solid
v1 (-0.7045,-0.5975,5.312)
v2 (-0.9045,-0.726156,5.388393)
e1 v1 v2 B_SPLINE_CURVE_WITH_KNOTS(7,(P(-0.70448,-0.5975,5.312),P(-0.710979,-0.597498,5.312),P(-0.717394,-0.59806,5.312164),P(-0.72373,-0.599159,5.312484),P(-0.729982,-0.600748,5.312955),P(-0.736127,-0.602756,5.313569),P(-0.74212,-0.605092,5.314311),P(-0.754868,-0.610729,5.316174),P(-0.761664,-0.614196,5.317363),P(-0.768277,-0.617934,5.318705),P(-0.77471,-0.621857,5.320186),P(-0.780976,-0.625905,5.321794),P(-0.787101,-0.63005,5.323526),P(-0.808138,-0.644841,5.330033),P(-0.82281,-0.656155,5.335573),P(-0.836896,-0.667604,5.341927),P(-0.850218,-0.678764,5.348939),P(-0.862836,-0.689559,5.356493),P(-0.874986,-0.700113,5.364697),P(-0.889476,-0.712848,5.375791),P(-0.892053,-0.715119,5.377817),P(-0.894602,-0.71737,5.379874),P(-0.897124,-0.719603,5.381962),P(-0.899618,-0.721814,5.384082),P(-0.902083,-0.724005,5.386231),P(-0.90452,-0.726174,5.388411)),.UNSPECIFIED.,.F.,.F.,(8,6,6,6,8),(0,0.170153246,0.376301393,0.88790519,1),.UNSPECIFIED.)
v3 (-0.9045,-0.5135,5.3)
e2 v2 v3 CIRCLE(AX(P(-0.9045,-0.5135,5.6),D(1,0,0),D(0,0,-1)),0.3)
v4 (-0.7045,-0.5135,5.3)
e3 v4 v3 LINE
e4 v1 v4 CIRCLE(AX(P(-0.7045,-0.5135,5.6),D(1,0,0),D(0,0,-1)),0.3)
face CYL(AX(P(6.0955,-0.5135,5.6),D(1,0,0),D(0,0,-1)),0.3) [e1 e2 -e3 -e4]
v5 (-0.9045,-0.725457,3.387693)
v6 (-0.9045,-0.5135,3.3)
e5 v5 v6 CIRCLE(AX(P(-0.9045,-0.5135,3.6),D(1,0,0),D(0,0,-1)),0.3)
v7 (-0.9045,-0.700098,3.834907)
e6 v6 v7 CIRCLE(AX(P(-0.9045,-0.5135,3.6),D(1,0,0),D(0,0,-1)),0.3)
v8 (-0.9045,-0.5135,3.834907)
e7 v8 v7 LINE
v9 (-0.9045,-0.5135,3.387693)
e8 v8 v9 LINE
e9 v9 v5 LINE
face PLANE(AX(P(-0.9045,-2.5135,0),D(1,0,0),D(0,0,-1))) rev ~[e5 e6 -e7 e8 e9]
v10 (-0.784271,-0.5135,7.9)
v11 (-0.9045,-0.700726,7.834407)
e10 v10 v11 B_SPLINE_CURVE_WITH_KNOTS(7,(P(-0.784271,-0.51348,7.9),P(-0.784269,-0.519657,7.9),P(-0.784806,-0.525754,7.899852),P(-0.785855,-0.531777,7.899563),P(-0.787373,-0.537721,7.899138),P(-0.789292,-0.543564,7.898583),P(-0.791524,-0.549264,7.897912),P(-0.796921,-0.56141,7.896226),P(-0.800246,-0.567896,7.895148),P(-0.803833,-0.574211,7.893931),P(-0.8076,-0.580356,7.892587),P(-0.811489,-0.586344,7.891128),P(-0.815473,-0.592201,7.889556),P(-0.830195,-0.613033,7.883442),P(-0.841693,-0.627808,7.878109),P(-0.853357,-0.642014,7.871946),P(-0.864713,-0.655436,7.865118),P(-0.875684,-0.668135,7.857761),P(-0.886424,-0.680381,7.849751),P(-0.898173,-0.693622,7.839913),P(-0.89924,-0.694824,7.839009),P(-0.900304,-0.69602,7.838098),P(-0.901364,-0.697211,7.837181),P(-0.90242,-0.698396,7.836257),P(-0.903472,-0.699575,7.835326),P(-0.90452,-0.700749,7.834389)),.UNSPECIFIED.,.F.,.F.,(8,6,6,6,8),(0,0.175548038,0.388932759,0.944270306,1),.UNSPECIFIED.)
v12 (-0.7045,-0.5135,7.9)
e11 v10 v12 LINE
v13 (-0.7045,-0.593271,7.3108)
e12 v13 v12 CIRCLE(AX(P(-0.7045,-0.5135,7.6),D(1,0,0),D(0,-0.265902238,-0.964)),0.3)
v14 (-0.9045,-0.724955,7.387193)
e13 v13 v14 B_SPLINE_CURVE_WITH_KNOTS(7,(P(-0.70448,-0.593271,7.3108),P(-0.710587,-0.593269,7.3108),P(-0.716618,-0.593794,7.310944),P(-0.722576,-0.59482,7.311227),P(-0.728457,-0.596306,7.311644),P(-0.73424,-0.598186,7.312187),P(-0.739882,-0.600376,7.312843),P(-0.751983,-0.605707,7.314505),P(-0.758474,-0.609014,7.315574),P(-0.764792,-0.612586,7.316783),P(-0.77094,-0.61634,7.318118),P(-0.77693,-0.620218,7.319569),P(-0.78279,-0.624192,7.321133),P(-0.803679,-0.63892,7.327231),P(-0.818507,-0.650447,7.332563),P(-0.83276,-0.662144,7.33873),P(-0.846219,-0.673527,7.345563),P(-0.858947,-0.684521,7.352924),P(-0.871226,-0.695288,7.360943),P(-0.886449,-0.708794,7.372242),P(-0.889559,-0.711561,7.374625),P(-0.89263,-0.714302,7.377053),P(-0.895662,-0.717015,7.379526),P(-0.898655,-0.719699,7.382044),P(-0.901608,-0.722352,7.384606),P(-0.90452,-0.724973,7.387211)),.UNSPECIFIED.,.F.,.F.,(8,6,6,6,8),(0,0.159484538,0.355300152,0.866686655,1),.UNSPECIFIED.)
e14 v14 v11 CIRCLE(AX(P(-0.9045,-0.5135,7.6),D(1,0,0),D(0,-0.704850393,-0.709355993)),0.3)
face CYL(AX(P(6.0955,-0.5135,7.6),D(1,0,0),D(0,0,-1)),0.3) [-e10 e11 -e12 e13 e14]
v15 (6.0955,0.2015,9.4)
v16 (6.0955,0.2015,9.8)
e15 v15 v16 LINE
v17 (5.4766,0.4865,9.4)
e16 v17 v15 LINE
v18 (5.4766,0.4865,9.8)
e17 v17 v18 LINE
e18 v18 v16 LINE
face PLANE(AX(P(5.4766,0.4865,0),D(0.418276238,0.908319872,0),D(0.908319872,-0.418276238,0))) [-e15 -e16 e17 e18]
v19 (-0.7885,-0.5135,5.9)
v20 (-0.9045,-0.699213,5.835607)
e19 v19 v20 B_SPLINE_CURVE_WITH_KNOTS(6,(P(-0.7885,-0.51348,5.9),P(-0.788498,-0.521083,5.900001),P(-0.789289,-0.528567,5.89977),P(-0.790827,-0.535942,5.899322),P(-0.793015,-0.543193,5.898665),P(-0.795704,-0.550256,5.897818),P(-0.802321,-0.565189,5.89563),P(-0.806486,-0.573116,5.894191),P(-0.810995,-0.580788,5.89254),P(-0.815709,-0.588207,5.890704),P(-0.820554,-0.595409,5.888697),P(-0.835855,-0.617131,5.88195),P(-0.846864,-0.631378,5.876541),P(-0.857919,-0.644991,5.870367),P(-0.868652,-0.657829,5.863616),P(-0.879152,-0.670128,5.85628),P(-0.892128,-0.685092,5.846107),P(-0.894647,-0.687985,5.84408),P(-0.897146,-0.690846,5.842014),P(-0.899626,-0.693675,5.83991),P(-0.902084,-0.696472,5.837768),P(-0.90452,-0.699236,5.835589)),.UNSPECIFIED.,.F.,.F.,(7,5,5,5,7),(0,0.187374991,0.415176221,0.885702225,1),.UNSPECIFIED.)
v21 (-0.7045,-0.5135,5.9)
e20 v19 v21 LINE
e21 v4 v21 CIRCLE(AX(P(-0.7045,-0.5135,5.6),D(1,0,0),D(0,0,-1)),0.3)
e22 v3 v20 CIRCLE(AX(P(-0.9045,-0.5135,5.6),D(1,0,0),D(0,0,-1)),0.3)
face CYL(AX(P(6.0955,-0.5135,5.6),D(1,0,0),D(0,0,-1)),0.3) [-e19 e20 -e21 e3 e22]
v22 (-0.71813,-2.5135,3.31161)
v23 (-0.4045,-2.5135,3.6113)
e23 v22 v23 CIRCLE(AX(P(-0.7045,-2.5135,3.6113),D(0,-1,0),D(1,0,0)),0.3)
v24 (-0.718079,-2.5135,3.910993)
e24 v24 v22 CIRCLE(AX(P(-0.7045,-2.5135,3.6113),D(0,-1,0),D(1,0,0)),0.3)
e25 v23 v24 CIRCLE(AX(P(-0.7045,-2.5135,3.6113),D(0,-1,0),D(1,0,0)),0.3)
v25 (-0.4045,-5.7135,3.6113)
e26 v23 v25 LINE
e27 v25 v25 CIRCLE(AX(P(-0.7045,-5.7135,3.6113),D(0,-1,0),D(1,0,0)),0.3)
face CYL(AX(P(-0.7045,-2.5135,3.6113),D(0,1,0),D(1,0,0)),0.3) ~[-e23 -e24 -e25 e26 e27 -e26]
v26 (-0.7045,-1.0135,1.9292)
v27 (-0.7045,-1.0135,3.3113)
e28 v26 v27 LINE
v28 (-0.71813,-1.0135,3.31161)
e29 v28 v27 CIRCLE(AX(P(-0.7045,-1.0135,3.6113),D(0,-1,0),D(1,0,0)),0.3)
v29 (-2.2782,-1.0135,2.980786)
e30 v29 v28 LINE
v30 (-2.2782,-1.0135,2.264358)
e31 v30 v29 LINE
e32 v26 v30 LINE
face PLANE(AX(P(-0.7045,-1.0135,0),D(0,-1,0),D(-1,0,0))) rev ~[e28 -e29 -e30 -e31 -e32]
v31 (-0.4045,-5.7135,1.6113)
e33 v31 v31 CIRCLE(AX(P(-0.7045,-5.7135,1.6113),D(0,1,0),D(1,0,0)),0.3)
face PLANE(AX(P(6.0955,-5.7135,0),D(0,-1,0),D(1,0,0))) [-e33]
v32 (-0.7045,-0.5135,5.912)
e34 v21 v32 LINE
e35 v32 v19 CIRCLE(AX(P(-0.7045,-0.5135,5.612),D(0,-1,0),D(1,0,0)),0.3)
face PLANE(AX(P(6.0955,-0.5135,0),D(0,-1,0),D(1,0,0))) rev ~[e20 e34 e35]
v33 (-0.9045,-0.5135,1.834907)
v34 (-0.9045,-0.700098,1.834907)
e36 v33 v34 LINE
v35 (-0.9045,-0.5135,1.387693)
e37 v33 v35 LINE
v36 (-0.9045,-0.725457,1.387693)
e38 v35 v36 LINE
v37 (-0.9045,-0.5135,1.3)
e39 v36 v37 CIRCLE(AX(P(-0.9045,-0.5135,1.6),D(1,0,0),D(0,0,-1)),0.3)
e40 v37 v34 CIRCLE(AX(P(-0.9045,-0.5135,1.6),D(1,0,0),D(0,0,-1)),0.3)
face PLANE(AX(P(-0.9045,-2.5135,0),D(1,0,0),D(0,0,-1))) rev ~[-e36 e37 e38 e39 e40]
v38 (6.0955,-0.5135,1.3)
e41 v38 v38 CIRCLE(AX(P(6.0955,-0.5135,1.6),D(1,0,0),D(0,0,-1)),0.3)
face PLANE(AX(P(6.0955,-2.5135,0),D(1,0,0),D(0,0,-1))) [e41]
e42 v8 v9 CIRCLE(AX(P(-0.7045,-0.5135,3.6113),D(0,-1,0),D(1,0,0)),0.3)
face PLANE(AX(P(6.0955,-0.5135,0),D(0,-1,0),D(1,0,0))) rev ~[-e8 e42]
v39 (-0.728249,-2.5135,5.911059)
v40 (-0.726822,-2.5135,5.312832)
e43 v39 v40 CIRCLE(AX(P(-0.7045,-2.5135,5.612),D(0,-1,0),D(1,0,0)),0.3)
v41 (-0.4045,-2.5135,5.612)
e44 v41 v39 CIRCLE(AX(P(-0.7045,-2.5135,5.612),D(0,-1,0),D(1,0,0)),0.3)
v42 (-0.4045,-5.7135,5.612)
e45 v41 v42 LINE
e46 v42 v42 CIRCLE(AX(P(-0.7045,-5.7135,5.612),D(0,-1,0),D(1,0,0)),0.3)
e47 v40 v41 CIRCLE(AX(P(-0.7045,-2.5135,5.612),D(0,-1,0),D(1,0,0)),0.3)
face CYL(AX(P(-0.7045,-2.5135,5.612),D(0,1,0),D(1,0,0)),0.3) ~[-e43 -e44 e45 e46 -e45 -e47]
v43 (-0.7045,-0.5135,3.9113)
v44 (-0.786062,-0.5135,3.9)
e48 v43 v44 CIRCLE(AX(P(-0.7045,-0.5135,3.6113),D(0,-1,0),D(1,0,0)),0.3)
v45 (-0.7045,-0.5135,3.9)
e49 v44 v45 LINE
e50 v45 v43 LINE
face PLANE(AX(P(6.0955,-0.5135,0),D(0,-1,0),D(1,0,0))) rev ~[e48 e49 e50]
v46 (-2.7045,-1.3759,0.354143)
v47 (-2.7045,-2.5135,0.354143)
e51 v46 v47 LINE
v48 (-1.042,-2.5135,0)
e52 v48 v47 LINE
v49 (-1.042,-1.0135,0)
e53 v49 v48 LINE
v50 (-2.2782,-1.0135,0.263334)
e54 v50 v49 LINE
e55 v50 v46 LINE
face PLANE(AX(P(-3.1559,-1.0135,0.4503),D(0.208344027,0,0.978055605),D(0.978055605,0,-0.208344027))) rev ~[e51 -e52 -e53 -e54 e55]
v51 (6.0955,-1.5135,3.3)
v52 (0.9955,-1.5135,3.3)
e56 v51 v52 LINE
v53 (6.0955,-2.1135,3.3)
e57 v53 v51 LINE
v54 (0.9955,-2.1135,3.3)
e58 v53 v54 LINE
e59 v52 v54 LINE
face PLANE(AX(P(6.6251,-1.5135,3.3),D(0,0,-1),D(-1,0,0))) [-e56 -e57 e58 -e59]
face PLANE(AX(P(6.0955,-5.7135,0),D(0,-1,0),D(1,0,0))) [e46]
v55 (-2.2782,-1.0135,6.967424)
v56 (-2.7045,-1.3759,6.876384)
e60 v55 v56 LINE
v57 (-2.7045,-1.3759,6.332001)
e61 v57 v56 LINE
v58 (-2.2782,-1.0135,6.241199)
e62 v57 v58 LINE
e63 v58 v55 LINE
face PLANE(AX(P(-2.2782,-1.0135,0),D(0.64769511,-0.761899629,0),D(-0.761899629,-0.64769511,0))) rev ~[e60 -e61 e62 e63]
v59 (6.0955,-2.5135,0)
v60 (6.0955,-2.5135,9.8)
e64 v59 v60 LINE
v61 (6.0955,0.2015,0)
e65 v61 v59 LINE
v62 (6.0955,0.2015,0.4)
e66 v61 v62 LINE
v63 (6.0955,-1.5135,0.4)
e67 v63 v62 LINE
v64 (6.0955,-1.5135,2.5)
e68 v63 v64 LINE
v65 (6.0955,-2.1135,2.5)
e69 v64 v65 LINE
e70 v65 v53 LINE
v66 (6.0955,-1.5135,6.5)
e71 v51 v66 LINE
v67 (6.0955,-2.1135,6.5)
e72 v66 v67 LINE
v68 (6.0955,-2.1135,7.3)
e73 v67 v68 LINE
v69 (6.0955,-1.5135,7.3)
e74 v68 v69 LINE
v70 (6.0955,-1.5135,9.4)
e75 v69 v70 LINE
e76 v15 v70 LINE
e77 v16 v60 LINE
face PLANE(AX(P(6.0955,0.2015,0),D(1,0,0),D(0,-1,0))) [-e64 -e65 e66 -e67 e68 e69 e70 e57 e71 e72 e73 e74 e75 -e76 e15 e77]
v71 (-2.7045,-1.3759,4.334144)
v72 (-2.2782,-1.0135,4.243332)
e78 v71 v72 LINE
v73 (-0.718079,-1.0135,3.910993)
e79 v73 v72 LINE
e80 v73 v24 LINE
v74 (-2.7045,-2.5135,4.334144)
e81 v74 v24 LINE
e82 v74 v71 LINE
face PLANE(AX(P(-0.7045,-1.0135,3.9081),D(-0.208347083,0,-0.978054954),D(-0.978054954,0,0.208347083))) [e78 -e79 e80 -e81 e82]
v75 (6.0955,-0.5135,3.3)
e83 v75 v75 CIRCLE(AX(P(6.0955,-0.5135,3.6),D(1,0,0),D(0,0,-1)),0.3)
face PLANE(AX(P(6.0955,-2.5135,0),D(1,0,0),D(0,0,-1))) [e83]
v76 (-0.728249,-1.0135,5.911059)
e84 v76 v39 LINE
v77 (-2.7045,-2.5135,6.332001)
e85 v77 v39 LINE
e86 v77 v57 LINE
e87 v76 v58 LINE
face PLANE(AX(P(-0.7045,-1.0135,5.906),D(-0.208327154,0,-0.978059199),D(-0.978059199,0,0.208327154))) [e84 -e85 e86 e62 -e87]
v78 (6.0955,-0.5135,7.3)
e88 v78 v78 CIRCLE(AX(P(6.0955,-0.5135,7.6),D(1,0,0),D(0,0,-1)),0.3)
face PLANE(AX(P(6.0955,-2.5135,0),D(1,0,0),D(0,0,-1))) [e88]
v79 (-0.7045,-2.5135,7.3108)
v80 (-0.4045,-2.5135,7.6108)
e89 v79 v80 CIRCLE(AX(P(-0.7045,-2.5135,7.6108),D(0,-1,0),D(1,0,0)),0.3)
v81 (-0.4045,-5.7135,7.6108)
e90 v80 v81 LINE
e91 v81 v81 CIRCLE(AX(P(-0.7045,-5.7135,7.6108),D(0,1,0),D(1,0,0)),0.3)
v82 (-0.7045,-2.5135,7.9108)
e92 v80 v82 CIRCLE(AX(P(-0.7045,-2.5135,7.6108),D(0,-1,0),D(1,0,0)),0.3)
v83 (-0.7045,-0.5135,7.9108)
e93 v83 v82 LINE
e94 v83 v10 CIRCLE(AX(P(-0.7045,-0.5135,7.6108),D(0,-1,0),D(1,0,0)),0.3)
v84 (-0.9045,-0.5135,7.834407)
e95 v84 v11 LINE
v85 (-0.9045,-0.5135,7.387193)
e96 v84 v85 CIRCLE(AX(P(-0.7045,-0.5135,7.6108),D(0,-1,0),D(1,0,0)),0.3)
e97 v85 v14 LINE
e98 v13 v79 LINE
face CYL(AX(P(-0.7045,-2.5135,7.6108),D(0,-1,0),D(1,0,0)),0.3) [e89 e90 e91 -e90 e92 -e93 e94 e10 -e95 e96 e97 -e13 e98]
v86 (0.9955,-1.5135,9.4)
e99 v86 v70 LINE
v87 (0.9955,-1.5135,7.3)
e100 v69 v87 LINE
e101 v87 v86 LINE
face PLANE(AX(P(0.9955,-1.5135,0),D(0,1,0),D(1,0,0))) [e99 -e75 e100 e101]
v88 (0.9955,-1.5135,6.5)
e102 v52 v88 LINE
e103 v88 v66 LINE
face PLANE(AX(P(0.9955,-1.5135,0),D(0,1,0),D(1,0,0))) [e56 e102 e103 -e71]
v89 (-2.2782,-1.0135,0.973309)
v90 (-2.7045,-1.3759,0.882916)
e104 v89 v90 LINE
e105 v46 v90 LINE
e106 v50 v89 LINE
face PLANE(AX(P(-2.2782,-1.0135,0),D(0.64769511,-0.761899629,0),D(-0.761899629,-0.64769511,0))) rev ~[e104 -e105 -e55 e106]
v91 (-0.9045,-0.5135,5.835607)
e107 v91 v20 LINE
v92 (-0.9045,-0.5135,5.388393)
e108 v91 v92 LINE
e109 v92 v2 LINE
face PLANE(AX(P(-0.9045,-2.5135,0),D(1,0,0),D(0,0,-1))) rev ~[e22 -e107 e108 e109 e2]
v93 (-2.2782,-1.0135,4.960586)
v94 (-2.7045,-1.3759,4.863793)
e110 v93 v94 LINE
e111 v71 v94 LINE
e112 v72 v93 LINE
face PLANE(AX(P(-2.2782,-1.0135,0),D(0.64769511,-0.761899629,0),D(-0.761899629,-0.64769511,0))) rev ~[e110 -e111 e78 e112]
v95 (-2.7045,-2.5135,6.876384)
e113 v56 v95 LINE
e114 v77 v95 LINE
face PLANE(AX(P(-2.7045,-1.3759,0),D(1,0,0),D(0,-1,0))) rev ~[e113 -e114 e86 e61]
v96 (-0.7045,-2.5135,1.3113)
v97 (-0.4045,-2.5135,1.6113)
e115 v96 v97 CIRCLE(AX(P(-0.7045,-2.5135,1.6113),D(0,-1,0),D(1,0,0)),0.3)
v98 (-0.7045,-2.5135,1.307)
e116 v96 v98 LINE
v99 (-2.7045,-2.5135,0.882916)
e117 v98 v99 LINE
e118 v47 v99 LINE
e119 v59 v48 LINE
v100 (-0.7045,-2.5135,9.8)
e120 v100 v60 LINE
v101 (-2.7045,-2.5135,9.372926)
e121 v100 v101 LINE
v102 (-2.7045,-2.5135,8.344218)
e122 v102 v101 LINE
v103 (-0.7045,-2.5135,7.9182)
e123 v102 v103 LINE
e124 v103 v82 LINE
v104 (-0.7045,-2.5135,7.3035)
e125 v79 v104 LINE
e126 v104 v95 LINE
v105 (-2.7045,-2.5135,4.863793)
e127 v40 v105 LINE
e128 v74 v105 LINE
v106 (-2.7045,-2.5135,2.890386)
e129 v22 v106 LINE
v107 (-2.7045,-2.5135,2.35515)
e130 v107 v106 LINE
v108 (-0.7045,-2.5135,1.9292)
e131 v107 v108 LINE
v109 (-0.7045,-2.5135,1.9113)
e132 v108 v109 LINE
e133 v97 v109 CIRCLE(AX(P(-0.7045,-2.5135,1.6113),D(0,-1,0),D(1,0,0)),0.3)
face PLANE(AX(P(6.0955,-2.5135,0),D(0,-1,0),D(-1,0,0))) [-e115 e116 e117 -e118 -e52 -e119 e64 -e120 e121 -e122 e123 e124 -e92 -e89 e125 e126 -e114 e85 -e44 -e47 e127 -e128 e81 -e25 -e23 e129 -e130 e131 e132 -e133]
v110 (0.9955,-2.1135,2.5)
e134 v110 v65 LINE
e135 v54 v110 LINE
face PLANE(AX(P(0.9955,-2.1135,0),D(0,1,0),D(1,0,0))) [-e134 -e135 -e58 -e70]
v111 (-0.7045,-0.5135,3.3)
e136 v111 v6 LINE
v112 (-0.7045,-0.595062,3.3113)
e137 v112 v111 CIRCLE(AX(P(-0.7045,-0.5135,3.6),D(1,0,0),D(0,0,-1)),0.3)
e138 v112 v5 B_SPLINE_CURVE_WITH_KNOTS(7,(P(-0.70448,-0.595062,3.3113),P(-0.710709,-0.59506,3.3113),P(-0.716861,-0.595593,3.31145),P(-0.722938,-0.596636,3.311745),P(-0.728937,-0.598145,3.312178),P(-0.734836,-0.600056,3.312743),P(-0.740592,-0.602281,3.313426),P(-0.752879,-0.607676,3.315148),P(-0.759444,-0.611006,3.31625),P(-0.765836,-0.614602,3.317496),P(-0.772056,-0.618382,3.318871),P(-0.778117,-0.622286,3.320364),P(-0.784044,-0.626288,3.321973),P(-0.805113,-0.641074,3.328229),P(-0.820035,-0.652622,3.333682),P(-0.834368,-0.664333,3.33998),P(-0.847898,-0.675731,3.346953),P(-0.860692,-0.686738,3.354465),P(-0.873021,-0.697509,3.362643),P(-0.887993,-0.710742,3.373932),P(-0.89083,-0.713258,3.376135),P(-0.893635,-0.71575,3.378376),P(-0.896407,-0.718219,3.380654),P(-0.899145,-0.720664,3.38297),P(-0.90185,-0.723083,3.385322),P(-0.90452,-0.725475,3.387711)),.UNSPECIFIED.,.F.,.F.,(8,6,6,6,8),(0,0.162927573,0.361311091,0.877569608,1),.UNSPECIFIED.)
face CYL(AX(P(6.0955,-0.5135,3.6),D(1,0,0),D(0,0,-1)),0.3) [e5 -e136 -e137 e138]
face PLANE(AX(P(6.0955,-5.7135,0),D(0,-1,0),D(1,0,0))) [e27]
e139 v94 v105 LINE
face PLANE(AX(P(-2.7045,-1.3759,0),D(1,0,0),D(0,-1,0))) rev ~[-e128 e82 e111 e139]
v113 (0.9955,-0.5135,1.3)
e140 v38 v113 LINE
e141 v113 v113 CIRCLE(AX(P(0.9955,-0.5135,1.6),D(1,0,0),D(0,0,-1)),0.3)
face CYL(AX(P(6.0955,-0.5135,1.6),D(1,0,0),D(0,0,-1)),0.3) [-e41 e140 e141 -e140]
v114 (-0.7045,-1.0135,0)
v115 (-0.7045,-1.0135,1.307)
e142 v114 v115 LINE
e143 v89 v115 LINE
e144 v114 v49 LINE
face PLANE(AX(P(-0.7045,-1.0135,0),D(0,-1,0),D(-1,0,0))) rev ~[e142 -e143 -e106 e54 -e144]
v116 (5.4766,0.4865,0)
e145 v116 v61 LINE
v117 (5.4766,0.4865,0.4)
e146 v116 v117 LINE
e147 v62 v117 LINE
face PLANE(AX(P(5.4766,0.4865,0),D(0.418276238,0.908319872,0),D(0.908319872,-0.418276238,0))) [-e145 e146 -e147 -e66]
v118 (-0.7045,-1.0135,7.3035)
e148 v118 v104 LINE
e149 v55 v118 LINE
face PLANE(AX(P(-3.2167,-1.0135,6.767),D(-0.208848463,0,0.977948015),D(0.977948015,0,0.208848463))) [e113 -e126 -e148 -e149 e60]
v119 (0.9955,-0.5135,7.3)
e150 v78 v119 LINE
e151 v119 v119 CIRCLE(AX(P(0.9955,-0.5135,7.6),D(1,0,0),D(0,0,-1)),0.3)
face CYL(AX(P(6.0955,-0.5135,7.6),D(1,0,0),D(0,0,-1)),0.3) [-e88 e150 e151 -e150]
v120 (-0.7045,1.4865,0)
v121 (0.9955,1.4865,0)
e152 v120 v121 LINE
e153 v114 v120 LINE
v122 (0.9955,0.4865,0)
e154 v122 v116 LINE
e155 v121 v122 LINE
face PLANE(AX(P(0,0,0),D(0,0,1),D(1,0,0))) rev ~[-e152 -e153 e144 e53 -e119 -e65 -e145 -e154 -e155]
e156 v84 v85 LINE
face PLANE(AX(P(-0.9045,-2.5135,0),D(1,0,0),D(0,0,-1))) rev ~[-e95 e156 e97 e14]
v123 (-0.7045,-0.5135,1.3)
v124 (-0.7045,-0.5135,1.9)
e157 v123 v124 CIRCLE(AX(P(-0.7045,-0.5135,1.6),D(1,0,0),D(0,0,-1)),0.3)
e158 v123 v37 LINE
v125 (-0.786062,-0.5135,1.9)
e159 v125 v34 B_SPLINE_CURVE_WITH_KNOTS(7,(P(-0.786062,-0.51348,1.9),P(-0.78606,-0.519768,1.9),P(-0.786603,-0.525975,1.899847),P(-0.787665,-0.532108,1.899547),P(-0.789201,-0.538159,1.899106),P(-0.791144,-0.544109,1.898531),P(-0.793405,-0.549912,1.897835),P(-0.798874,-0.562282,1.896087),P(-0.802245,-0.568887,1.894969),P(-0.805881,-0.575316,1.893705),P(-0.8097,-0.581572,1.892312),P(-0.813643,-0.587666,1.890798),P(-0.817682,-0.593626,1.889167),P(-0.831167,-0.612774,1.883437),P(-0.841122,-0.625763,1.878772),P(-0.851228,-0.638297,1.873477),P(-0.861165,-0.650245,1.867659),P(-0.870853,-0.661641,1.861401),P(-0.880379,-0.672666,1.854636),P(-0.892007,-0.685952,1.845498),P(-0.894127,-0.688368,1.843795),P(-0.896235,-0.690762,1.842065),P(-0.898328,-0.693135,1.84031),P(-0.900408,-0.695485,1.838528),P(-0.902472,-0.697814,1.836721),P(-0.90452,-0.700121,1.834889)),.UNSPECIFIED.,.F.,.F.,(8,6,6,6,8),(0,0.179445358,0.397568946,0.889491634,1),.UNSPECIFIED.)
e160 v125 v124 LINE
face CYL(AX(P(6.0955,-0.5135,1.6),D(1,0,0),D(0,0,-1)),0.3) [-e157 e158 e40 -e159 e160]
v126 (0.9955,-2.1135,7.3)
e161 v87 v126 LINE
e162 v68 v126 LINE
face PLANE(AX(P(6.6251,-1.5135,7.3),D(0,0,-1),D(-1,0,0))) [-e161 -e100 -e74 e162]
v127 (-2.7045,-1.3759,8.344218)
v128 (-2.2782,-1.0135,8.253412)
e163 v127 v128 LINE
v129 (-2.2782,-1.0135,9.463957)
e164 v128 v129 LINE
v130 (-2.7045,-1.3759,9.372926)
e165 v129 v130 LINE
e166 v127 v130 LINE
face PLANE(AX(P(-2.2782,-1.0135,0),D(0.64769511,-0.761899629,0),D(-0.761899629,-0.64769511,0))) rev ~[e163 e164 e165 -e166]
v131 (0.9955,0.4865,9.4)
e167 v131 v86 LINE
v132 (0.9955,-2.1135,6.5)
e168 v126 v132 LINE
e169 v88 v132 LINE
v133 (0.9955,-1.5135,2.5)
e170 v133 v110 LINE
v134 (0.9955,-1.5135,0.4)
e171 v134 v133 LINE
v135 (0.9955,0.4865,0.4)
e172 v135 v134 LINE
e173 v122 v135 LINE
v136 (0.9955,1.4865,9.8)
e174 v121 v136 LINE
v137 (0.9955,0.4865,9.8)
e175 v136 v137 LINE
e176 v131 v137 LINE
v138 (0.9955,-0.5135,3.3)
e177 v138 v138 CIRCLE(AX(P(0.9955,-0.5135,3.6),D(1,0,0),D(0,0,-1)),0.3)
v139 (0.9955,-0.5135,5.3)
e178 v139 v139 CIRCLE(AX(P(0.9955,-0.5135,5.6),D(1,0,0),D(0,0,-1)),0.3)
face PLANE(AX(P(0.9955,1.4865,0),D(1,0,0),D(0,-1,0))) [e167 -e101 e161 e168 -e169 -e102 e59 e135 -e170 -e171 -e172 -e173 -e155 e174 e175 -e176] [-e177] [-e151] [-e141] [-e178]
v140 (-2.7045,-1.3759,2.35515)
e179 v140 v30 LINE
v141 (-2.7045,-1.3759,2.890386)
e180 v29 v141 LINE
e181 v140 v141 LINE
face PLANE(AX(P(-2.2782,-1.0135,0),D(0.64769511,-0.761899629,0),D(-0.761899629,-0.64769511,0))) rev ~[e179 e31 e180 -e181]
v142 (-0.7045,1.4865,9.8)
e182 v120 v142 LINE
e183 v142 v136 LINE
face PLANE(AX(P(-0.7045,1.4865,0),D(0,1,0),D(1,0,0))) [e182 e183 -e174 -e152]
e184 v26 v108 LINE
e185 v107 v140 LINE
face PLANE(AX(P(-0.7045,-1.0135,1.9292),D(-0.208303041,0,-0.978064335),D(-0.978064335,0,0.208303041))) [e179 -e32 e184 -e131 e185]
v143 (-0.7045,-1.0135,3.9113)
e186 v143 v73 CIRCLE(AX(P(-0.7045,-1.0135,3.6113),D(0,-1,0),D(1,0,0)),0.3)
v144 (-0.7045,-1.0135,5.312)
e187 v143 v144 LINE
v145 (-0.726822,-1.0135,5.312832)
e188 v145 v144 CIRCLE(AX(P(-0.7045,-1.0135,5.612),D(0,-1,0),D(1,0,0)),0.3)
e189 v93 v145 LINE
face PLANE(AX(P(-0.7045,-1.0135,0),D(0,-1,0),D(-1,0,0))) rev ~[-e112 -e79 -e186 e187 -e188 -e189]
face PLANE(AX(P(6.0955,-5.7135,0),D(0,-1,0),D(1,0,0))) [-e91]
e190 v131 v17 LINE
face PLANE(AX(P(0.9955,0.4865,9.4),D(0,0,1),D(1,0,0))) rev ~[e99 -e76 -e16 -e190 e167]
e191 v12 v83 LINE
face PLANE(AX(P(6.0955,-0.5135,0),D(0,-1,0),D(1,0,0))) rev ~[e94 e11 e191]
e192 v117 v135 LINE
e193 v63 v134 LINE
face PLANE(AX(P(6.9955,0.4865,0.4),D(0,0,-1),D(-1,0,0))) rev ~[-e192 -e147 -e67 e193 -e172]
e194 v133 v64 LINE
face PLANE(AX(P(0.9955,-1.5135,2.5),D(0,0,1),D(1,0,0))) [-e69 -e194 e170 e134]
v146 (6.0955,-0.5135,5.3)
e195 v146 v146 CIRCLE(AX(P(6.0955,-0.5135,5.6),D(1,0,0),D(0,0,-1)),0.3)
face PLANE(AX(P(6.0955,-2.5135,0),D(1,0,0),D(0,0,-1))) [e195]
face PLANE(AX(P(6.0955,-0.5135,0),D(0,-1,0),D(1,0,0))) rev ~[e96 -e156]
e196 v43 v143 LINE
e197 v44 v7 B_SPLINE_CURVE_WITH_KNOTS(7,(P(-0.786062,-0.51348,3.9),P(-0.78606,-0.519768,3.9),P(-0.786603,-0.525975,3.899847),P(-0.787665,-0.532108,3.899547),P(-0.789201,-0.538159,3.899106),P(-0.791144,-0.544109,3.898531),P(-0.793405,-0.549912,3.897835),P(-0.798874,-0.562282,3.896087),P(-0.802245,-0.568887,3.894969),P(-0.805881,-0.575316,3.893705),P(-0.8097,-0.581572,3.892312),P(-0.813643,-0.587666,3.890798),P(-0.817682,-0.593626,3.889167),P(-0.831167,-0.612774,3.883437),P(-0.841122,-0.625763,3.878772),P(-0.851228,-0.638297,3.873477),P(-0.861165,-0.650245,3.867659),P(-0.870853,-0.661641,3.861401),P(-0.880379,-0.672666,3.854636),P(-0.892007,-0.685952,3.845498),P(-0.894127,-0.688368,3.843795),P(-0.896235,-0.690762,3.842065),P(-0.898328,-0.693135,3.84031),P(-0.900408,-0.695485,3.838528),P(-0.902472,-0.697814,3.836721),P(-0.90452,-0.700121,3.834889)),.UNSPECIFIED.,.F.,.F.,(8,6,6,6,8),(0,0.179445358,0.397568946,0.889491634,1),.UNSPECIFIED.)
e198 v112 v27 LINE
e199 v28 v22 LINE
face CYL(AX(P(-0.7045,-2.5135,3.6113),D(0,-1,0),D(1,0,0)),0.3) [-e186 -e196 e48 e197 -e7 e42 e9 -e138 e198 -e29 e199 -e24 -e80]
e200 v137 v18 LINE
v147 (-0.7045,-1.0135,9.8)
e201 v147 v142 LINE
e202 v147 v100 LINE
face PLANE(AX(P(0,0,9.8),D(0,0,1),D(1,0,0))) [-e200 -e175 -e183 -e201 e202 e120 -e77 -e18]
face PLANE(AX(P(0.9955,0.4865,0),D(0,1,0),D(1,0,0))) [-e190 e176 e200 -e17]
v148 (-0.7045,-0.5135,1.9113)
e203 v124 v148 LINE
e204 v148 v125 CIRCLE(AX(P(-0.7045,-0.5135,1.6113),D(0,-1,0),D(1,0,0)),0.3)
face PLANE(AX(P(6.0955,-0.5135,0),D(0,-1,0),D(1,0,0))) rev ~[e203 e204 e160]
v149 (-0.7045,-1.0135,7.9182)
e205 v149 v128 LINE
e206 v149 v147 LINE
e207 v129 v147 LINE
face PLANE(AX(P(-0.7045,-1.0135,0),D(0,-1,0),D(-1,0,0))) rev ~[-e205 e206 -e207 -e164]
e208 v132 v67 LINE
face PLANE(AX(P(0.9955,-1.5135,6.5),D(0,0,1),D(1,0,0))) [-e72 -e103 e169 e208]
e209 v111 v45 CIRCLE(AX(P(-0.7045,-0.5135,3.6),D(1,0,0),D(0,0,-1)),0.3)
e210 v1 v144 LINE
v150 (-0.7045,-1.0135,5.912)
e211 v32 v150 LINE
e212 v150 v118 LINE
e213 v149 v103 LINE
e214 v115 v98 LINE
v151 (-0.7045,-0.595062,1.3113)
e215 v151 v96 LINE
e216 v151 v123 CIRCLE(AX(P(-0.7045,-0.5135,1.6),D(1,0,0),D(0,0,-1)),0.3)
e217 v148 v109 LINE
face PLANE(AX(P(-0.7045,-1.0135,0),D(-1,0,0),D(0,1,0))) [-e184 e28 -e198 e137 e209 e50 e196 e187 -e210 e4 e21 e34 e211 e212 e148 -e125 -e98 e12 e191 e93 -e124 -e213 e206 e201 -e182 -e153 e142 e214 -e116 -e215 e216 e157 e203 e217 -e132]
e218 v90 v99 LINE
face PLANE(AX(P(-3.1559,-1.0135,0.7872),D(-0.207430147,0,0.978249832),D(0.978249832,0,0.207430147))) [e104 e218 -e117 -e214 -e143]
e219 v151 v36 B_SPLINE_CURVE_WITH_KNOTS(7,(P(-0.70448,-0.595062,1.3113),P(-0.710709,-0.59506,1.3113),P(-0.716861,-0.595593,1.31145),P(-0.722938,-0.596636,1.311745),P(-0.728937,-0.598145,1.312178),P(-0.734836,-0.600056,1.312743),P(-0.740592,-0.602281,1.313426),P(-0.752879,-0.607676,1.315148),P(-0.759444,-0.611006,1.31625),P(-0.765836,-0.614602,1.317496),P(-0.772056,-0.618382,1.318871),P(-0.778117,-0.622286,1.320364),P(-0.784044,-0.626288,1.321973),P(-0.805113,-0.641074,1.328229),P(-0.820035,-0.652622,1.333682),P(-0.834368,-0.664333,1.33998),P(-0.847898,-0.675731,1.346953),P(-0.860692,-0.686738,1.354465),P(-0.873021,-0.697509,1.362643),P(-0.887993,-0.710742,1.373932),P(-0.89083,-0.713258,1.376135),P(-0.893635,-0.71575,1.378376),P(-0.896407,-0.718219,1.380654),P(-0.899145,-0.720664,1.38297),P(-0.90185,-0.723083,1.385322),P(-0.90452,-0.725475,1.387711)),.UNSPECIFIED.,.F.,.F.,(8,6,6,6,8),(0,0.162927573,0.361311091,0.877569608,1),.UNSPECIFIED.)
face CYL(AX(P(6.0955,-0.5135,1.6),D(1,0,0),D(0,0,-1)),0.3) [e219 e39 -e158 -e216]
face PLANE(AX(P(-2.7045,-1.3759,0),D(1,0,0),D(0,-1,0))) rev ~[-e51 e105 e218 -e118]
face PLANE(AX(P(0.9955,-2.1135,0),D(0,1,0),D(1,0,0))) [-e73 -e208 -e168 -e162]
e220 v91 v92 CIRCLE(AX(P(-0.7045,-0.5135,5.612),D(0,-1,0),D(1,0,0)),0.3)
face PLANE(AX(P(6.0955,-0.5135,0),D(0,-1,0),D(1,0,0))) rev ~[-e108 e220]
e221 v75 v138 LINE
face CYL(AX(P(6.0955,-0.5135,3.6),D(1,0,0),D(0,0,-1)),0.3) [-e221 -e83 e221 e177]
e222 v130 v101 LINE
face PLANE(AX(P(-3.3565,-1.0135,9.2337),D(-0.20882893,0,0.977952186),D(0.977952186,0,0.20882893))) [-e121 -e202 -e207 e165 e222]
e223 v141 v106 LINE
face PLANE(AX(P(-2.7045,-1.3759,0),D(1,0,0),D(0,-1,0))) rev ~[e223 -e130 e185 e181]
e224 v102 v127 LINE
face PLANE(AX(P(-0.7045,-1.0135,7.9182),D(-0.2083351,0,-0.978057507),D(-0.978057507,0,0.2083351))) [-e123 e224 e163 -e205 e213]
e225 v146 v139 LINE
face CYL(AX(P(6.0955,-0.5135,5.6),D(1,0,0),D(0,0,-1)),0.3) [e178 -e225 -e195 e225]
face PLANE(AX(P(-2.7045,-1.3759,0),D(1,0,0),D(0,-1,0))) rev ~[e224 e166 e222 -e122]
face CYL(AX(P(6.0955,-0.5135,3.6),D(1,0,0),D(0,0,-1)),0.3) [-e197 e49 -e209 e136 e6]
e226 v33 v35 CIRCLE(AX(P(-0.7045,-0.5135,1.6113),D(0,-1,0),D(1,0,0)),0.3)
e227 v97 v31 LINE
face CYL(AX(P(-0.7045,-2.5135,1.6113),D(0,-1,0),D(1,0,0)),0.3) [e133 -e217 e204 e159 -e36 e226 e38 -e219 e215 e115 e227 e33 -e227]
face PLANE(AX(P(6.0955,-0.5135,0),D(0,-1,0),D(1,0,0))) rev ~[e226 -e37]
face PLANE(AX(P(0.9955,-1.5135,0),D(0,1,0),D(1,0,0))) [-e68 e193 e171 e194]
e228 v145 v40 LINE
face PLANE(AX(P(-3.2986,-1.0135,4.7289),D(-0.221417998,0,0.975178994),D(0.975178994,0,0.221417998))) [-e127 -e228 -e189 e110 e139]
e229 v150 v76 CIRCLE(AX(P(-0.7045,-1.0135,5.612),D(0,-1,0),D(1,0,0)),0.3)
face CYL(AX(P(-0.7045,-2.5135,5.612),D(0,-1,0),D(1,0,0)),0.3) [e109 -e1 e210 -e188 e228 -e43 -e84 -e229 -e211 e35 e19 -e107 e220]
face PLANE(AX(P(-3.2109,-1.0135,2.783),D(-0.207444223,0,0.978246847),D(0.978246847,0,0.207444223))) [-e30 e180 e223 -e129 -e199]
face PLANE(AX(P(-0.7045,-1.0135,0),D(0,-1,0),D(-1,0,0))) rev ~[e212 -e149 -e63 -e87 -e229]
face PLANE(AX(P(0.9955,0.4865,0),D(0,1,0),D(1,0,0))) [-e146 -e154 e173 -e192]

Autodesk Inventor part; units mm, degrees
ref_plane "YZ Plane" through (0, 0, 0) normal (1, 0, 0) x (0, 1, 0)
ref_plane "XZ Plane" through (0, 0, 0) normal (0, 1, 0) x (-1, 0, 0)
ref_plane "XY Plane" through (0, 0, 0) normal (0, 0, 1) x (1, 0, 0)
sketch "Sketch1" plane through (0, 0, 0) normal (0, 0, 1) x (1, 0, 0)
  line L0 (-0.7045, 1.4865) -> (6.0955, 1.4865)
  line L1 (6.0955, 1.4865) -> (6.0955, -2.5135)
  line L2 (6.0955, -2.5135) -> (-0.7045, -2.5135)
  line L3 (-0.7045, -2.5135) -> (-0.7045, 1.4865)
  line L4 (0.9955, 1.4865) -> (0.9955, 0.4865)
  line L5 (0.9955, 0.4865) -> (5.4766, 0.4865)
  line L6 (5.4766, 0.4865) -> (6.0955, 0.2015)
  line L7 (-0.7045, -1.0135) -> (-2.2782, -1.0135)
  line L8 (-2.2782, -1.0135) -> (-2.7045, -1.3759)
  line L9 (-2.7045, -1.3759) -> (-2.7045, -2.5135)
  line L10 (-2.7045, -2.5135) -> (-0.7045, -2.5135)
  point P0 (0, 0)
  dimension "d0" = 6.8
  dimension "d1" = 4
  dimension "d2" = 1.7
  dimension "d3" = 1
  dimension "d4" = 8.8
  dimension "d5" = 1.5
extrude "Extrusion1" add sketch "Sketch1" along normal blind 9.8 contours L0 L4 L5 L6 L1 L2 L3 | L3 L10 L9 L8 L7
sketch "Sketch2" plane through (0.9955, 0.4865, 0) normal (0, 1, 0) x (1, 0, 0)
  line L0 (0, 0) -> (0, -9.8) projected
  line L1 (4.4812, -9.8) -> (0, -9.8) projected
  line L2 (6, -0.4) -> (0, -0.4)
  line L3 (0, -0.4) -> (0, -9.4)
  line L4 (0, -9.4) -> (6, -9.4)
  line L5 (6, -9.4) -> (6, -0.4)
  point P0 (-0.9955, 0)
  dimension "d8" = 9
  dimension "d9" = 0.4
  dimension "d10" = 6
extrude "Extrusion2" cut sketch "Sketch2" against normal blind 2
sketch "Sketch3" plane through (0.9955, -1.5135, 0) normal (0, 1, 0) x (1, 0, 0)
  line L0 (0, -9.4) -> (0, -0.4) projected
  line L1 (0, -6.5) -> (5.6296, -6.5)
  line L2 (5.6296, -6.5) -> (5.6296, -7.3)
  line L3 (5.6296, -7.3) -> (0, -7.3)
  line L4 (0, -7.3) -> (0, -6.5)
  line L5 (0, -2.5) -> (5.6296, -2.5)
  line L6 (5.6296, -2.5) -> (5.6296, -3.3)
  line L7 (5.6296, -3.3) -> (0, -3.3)
  line L8 (0, -3.3) -> (0, -2.5)
  line L9 (4.4812, -9.8) -> (0, -9.8) projected
  point P0 (-0.9955, 0)
  dimension "d13" = 0.8
  dimension "d14" = 0.8
  dimension "d15" = 3.2
  dimension "d16" = 3.3
extrude "Extrusion3" cut sketch "Sketch3" against normal blind 0.6
sketch "Sketch6" plane through (6.0955, -2.5135, 0) normal (1, 0, 0) x (0, 0, -1)
  line L0 (-3.3, 1) -> (-6.5, 1) projected
  line L1 (-7.3, 1) -> (-9.4, 1) projected
  line L2 (-9.8, 0) -> (-9.8, 2.715) projected
  line L3 (-0.4, 1) -> (-2.5, 1) projected
  circle A0 centre (-7.6, 2) radius 0.3
  circle A1 centre (-5.6, 2) radius 0.3
  circle A2 centre (-3.6, 2) radius 0.3
  circle A3 centre (-1.6, 2) radius 0.3
  point P0 (0, 2.5135)
  dimension "d21" = 2.2
  dimension "d22" = 2
  dimension "d23" = 2
  dimension "d24" = 2
  dimension "d25" = 1
  dimension "d26" = 1
  dimension "d27" = 1
  dimension "d28" = 1
  dimension "d29" = 0.6
  dimension "d30" = 0.6
  dimension "d31" = 0.6
  dimension "d32" = 0.6
extrude "Extrusion4" add sketch "Sketch6" against normal blind 7
sketch "Sketch8" plane through (-2.2782, -1.0135, 0) normal (0, 1, 0) x (1, 0, 0)
  line L0 (1.5737, 0) -> (0, 0) projected
  line L1 (1.5737, 0) -> (1.5737, -9.8) projected
  line L2 (1.5737, -9.8) -> (-2.262, -9.8)
  line L3 (-2.262, -9.8) -> (-2.2372, 0)
  line L4 (-2.2372, 0) -> (1.2362, 0)
  line L5 (-0.8777, -0.4503) -> (1.2362, 0)
  line L6 (-0.8777, -0.4503) -> (-0.8777, -0.7872)
  line L7 (-0.8777, -0.7872) -> (1.5737, -1.307)
  line L8 (1.5737, -1.307) -> (1.5737, -1.9292)
  line L9 (1.5737, -1.9292) -> (-0.9327, -2.463)
  line L10 (-0.9327, -2.463) -> (-0.9327, -2.783)
  line L11 (-0.9327, -2.783) -> (1.5737, -3.3145)
  line L12 (1.5737, -3.3145) -> (1.5737, -3.9081)
  line L13 (1.5737, -3.9081) -> (-1.0204, -4.4607)
  line L14 (-1.0204, -4.4607) -> (-1.0204, -4.7289)
  line L15 (-1.0204, -4.7289) -> (1.5737, -5.3179)
  line L16 (1.5737, -5.3179) -> (1.5737, -5.906)
  line L17 (1.5737, -5.906) -> (-0.9385, -6.4411)
  line L18 (-0.9385, -6.4411) -> (-0.9385, -6.767)
  line L19 (-0.9385, -6.767) -> (1.5737, -7.3035)
  line L20 (1.5737, -7.3035) -> (1.5737, -7.9182)
  line L21 (1.5737, -7.9182) -> (-1.0783, -8.4831)
  line L22 (-1.0783, -8.4831) -> (-1.0783, -9.2337)
  line L23 (-1.0783, -9.2337) -> (1.5737, -9.8)
  point P0 (2.2782, 0)
extrude "Extrusion5" cut sketch "Sketch8" against normal through all contours L5 L6 L7 L1 L9 L10 L11 L13 L14 L15 L17 L18 L19 L21 L22 L23 L2 L3 L4 L0
sketch "Sketch9" plane through (6.0955, -2.5135, 0) normal (0, -1, 0) x (1, 0, 0)
  line L0 (-6.8, 5.906) -> (-6.8, 5.3179) projected
  line L1 (-6.8, 3.9081) -> (-6.8, 3.3145) projected
  line L2 (-6.8, 1.9292) -> (-6.8, 1.307) projected
  line L3 (-6.8, 7.9182) -> (-6.8, 7.3035) projected
  circle A0 centre (-6.8, 1.6113) radius 0.3
  circle A1 centre (-6.8, 7.6108) radius 0.3
  circle A2 centre (-6.8, 5.612) radius 0.3
  circle A3 centre (-6.8, 3.6113) radius 0.3
  point P0 (-6.0955, 0)
  dimension "d54" = 0.6
  dimension "d56" = 0.6
  dimension "d57" = 0.6
  dimension "d58" = 0.6
  dimension "d59" = 2
extrude "Extrusion6" add sketch "Sketch9" along normal blind 3.2 and the other way blind 2
properties part number "2mmWireBoardConn"
